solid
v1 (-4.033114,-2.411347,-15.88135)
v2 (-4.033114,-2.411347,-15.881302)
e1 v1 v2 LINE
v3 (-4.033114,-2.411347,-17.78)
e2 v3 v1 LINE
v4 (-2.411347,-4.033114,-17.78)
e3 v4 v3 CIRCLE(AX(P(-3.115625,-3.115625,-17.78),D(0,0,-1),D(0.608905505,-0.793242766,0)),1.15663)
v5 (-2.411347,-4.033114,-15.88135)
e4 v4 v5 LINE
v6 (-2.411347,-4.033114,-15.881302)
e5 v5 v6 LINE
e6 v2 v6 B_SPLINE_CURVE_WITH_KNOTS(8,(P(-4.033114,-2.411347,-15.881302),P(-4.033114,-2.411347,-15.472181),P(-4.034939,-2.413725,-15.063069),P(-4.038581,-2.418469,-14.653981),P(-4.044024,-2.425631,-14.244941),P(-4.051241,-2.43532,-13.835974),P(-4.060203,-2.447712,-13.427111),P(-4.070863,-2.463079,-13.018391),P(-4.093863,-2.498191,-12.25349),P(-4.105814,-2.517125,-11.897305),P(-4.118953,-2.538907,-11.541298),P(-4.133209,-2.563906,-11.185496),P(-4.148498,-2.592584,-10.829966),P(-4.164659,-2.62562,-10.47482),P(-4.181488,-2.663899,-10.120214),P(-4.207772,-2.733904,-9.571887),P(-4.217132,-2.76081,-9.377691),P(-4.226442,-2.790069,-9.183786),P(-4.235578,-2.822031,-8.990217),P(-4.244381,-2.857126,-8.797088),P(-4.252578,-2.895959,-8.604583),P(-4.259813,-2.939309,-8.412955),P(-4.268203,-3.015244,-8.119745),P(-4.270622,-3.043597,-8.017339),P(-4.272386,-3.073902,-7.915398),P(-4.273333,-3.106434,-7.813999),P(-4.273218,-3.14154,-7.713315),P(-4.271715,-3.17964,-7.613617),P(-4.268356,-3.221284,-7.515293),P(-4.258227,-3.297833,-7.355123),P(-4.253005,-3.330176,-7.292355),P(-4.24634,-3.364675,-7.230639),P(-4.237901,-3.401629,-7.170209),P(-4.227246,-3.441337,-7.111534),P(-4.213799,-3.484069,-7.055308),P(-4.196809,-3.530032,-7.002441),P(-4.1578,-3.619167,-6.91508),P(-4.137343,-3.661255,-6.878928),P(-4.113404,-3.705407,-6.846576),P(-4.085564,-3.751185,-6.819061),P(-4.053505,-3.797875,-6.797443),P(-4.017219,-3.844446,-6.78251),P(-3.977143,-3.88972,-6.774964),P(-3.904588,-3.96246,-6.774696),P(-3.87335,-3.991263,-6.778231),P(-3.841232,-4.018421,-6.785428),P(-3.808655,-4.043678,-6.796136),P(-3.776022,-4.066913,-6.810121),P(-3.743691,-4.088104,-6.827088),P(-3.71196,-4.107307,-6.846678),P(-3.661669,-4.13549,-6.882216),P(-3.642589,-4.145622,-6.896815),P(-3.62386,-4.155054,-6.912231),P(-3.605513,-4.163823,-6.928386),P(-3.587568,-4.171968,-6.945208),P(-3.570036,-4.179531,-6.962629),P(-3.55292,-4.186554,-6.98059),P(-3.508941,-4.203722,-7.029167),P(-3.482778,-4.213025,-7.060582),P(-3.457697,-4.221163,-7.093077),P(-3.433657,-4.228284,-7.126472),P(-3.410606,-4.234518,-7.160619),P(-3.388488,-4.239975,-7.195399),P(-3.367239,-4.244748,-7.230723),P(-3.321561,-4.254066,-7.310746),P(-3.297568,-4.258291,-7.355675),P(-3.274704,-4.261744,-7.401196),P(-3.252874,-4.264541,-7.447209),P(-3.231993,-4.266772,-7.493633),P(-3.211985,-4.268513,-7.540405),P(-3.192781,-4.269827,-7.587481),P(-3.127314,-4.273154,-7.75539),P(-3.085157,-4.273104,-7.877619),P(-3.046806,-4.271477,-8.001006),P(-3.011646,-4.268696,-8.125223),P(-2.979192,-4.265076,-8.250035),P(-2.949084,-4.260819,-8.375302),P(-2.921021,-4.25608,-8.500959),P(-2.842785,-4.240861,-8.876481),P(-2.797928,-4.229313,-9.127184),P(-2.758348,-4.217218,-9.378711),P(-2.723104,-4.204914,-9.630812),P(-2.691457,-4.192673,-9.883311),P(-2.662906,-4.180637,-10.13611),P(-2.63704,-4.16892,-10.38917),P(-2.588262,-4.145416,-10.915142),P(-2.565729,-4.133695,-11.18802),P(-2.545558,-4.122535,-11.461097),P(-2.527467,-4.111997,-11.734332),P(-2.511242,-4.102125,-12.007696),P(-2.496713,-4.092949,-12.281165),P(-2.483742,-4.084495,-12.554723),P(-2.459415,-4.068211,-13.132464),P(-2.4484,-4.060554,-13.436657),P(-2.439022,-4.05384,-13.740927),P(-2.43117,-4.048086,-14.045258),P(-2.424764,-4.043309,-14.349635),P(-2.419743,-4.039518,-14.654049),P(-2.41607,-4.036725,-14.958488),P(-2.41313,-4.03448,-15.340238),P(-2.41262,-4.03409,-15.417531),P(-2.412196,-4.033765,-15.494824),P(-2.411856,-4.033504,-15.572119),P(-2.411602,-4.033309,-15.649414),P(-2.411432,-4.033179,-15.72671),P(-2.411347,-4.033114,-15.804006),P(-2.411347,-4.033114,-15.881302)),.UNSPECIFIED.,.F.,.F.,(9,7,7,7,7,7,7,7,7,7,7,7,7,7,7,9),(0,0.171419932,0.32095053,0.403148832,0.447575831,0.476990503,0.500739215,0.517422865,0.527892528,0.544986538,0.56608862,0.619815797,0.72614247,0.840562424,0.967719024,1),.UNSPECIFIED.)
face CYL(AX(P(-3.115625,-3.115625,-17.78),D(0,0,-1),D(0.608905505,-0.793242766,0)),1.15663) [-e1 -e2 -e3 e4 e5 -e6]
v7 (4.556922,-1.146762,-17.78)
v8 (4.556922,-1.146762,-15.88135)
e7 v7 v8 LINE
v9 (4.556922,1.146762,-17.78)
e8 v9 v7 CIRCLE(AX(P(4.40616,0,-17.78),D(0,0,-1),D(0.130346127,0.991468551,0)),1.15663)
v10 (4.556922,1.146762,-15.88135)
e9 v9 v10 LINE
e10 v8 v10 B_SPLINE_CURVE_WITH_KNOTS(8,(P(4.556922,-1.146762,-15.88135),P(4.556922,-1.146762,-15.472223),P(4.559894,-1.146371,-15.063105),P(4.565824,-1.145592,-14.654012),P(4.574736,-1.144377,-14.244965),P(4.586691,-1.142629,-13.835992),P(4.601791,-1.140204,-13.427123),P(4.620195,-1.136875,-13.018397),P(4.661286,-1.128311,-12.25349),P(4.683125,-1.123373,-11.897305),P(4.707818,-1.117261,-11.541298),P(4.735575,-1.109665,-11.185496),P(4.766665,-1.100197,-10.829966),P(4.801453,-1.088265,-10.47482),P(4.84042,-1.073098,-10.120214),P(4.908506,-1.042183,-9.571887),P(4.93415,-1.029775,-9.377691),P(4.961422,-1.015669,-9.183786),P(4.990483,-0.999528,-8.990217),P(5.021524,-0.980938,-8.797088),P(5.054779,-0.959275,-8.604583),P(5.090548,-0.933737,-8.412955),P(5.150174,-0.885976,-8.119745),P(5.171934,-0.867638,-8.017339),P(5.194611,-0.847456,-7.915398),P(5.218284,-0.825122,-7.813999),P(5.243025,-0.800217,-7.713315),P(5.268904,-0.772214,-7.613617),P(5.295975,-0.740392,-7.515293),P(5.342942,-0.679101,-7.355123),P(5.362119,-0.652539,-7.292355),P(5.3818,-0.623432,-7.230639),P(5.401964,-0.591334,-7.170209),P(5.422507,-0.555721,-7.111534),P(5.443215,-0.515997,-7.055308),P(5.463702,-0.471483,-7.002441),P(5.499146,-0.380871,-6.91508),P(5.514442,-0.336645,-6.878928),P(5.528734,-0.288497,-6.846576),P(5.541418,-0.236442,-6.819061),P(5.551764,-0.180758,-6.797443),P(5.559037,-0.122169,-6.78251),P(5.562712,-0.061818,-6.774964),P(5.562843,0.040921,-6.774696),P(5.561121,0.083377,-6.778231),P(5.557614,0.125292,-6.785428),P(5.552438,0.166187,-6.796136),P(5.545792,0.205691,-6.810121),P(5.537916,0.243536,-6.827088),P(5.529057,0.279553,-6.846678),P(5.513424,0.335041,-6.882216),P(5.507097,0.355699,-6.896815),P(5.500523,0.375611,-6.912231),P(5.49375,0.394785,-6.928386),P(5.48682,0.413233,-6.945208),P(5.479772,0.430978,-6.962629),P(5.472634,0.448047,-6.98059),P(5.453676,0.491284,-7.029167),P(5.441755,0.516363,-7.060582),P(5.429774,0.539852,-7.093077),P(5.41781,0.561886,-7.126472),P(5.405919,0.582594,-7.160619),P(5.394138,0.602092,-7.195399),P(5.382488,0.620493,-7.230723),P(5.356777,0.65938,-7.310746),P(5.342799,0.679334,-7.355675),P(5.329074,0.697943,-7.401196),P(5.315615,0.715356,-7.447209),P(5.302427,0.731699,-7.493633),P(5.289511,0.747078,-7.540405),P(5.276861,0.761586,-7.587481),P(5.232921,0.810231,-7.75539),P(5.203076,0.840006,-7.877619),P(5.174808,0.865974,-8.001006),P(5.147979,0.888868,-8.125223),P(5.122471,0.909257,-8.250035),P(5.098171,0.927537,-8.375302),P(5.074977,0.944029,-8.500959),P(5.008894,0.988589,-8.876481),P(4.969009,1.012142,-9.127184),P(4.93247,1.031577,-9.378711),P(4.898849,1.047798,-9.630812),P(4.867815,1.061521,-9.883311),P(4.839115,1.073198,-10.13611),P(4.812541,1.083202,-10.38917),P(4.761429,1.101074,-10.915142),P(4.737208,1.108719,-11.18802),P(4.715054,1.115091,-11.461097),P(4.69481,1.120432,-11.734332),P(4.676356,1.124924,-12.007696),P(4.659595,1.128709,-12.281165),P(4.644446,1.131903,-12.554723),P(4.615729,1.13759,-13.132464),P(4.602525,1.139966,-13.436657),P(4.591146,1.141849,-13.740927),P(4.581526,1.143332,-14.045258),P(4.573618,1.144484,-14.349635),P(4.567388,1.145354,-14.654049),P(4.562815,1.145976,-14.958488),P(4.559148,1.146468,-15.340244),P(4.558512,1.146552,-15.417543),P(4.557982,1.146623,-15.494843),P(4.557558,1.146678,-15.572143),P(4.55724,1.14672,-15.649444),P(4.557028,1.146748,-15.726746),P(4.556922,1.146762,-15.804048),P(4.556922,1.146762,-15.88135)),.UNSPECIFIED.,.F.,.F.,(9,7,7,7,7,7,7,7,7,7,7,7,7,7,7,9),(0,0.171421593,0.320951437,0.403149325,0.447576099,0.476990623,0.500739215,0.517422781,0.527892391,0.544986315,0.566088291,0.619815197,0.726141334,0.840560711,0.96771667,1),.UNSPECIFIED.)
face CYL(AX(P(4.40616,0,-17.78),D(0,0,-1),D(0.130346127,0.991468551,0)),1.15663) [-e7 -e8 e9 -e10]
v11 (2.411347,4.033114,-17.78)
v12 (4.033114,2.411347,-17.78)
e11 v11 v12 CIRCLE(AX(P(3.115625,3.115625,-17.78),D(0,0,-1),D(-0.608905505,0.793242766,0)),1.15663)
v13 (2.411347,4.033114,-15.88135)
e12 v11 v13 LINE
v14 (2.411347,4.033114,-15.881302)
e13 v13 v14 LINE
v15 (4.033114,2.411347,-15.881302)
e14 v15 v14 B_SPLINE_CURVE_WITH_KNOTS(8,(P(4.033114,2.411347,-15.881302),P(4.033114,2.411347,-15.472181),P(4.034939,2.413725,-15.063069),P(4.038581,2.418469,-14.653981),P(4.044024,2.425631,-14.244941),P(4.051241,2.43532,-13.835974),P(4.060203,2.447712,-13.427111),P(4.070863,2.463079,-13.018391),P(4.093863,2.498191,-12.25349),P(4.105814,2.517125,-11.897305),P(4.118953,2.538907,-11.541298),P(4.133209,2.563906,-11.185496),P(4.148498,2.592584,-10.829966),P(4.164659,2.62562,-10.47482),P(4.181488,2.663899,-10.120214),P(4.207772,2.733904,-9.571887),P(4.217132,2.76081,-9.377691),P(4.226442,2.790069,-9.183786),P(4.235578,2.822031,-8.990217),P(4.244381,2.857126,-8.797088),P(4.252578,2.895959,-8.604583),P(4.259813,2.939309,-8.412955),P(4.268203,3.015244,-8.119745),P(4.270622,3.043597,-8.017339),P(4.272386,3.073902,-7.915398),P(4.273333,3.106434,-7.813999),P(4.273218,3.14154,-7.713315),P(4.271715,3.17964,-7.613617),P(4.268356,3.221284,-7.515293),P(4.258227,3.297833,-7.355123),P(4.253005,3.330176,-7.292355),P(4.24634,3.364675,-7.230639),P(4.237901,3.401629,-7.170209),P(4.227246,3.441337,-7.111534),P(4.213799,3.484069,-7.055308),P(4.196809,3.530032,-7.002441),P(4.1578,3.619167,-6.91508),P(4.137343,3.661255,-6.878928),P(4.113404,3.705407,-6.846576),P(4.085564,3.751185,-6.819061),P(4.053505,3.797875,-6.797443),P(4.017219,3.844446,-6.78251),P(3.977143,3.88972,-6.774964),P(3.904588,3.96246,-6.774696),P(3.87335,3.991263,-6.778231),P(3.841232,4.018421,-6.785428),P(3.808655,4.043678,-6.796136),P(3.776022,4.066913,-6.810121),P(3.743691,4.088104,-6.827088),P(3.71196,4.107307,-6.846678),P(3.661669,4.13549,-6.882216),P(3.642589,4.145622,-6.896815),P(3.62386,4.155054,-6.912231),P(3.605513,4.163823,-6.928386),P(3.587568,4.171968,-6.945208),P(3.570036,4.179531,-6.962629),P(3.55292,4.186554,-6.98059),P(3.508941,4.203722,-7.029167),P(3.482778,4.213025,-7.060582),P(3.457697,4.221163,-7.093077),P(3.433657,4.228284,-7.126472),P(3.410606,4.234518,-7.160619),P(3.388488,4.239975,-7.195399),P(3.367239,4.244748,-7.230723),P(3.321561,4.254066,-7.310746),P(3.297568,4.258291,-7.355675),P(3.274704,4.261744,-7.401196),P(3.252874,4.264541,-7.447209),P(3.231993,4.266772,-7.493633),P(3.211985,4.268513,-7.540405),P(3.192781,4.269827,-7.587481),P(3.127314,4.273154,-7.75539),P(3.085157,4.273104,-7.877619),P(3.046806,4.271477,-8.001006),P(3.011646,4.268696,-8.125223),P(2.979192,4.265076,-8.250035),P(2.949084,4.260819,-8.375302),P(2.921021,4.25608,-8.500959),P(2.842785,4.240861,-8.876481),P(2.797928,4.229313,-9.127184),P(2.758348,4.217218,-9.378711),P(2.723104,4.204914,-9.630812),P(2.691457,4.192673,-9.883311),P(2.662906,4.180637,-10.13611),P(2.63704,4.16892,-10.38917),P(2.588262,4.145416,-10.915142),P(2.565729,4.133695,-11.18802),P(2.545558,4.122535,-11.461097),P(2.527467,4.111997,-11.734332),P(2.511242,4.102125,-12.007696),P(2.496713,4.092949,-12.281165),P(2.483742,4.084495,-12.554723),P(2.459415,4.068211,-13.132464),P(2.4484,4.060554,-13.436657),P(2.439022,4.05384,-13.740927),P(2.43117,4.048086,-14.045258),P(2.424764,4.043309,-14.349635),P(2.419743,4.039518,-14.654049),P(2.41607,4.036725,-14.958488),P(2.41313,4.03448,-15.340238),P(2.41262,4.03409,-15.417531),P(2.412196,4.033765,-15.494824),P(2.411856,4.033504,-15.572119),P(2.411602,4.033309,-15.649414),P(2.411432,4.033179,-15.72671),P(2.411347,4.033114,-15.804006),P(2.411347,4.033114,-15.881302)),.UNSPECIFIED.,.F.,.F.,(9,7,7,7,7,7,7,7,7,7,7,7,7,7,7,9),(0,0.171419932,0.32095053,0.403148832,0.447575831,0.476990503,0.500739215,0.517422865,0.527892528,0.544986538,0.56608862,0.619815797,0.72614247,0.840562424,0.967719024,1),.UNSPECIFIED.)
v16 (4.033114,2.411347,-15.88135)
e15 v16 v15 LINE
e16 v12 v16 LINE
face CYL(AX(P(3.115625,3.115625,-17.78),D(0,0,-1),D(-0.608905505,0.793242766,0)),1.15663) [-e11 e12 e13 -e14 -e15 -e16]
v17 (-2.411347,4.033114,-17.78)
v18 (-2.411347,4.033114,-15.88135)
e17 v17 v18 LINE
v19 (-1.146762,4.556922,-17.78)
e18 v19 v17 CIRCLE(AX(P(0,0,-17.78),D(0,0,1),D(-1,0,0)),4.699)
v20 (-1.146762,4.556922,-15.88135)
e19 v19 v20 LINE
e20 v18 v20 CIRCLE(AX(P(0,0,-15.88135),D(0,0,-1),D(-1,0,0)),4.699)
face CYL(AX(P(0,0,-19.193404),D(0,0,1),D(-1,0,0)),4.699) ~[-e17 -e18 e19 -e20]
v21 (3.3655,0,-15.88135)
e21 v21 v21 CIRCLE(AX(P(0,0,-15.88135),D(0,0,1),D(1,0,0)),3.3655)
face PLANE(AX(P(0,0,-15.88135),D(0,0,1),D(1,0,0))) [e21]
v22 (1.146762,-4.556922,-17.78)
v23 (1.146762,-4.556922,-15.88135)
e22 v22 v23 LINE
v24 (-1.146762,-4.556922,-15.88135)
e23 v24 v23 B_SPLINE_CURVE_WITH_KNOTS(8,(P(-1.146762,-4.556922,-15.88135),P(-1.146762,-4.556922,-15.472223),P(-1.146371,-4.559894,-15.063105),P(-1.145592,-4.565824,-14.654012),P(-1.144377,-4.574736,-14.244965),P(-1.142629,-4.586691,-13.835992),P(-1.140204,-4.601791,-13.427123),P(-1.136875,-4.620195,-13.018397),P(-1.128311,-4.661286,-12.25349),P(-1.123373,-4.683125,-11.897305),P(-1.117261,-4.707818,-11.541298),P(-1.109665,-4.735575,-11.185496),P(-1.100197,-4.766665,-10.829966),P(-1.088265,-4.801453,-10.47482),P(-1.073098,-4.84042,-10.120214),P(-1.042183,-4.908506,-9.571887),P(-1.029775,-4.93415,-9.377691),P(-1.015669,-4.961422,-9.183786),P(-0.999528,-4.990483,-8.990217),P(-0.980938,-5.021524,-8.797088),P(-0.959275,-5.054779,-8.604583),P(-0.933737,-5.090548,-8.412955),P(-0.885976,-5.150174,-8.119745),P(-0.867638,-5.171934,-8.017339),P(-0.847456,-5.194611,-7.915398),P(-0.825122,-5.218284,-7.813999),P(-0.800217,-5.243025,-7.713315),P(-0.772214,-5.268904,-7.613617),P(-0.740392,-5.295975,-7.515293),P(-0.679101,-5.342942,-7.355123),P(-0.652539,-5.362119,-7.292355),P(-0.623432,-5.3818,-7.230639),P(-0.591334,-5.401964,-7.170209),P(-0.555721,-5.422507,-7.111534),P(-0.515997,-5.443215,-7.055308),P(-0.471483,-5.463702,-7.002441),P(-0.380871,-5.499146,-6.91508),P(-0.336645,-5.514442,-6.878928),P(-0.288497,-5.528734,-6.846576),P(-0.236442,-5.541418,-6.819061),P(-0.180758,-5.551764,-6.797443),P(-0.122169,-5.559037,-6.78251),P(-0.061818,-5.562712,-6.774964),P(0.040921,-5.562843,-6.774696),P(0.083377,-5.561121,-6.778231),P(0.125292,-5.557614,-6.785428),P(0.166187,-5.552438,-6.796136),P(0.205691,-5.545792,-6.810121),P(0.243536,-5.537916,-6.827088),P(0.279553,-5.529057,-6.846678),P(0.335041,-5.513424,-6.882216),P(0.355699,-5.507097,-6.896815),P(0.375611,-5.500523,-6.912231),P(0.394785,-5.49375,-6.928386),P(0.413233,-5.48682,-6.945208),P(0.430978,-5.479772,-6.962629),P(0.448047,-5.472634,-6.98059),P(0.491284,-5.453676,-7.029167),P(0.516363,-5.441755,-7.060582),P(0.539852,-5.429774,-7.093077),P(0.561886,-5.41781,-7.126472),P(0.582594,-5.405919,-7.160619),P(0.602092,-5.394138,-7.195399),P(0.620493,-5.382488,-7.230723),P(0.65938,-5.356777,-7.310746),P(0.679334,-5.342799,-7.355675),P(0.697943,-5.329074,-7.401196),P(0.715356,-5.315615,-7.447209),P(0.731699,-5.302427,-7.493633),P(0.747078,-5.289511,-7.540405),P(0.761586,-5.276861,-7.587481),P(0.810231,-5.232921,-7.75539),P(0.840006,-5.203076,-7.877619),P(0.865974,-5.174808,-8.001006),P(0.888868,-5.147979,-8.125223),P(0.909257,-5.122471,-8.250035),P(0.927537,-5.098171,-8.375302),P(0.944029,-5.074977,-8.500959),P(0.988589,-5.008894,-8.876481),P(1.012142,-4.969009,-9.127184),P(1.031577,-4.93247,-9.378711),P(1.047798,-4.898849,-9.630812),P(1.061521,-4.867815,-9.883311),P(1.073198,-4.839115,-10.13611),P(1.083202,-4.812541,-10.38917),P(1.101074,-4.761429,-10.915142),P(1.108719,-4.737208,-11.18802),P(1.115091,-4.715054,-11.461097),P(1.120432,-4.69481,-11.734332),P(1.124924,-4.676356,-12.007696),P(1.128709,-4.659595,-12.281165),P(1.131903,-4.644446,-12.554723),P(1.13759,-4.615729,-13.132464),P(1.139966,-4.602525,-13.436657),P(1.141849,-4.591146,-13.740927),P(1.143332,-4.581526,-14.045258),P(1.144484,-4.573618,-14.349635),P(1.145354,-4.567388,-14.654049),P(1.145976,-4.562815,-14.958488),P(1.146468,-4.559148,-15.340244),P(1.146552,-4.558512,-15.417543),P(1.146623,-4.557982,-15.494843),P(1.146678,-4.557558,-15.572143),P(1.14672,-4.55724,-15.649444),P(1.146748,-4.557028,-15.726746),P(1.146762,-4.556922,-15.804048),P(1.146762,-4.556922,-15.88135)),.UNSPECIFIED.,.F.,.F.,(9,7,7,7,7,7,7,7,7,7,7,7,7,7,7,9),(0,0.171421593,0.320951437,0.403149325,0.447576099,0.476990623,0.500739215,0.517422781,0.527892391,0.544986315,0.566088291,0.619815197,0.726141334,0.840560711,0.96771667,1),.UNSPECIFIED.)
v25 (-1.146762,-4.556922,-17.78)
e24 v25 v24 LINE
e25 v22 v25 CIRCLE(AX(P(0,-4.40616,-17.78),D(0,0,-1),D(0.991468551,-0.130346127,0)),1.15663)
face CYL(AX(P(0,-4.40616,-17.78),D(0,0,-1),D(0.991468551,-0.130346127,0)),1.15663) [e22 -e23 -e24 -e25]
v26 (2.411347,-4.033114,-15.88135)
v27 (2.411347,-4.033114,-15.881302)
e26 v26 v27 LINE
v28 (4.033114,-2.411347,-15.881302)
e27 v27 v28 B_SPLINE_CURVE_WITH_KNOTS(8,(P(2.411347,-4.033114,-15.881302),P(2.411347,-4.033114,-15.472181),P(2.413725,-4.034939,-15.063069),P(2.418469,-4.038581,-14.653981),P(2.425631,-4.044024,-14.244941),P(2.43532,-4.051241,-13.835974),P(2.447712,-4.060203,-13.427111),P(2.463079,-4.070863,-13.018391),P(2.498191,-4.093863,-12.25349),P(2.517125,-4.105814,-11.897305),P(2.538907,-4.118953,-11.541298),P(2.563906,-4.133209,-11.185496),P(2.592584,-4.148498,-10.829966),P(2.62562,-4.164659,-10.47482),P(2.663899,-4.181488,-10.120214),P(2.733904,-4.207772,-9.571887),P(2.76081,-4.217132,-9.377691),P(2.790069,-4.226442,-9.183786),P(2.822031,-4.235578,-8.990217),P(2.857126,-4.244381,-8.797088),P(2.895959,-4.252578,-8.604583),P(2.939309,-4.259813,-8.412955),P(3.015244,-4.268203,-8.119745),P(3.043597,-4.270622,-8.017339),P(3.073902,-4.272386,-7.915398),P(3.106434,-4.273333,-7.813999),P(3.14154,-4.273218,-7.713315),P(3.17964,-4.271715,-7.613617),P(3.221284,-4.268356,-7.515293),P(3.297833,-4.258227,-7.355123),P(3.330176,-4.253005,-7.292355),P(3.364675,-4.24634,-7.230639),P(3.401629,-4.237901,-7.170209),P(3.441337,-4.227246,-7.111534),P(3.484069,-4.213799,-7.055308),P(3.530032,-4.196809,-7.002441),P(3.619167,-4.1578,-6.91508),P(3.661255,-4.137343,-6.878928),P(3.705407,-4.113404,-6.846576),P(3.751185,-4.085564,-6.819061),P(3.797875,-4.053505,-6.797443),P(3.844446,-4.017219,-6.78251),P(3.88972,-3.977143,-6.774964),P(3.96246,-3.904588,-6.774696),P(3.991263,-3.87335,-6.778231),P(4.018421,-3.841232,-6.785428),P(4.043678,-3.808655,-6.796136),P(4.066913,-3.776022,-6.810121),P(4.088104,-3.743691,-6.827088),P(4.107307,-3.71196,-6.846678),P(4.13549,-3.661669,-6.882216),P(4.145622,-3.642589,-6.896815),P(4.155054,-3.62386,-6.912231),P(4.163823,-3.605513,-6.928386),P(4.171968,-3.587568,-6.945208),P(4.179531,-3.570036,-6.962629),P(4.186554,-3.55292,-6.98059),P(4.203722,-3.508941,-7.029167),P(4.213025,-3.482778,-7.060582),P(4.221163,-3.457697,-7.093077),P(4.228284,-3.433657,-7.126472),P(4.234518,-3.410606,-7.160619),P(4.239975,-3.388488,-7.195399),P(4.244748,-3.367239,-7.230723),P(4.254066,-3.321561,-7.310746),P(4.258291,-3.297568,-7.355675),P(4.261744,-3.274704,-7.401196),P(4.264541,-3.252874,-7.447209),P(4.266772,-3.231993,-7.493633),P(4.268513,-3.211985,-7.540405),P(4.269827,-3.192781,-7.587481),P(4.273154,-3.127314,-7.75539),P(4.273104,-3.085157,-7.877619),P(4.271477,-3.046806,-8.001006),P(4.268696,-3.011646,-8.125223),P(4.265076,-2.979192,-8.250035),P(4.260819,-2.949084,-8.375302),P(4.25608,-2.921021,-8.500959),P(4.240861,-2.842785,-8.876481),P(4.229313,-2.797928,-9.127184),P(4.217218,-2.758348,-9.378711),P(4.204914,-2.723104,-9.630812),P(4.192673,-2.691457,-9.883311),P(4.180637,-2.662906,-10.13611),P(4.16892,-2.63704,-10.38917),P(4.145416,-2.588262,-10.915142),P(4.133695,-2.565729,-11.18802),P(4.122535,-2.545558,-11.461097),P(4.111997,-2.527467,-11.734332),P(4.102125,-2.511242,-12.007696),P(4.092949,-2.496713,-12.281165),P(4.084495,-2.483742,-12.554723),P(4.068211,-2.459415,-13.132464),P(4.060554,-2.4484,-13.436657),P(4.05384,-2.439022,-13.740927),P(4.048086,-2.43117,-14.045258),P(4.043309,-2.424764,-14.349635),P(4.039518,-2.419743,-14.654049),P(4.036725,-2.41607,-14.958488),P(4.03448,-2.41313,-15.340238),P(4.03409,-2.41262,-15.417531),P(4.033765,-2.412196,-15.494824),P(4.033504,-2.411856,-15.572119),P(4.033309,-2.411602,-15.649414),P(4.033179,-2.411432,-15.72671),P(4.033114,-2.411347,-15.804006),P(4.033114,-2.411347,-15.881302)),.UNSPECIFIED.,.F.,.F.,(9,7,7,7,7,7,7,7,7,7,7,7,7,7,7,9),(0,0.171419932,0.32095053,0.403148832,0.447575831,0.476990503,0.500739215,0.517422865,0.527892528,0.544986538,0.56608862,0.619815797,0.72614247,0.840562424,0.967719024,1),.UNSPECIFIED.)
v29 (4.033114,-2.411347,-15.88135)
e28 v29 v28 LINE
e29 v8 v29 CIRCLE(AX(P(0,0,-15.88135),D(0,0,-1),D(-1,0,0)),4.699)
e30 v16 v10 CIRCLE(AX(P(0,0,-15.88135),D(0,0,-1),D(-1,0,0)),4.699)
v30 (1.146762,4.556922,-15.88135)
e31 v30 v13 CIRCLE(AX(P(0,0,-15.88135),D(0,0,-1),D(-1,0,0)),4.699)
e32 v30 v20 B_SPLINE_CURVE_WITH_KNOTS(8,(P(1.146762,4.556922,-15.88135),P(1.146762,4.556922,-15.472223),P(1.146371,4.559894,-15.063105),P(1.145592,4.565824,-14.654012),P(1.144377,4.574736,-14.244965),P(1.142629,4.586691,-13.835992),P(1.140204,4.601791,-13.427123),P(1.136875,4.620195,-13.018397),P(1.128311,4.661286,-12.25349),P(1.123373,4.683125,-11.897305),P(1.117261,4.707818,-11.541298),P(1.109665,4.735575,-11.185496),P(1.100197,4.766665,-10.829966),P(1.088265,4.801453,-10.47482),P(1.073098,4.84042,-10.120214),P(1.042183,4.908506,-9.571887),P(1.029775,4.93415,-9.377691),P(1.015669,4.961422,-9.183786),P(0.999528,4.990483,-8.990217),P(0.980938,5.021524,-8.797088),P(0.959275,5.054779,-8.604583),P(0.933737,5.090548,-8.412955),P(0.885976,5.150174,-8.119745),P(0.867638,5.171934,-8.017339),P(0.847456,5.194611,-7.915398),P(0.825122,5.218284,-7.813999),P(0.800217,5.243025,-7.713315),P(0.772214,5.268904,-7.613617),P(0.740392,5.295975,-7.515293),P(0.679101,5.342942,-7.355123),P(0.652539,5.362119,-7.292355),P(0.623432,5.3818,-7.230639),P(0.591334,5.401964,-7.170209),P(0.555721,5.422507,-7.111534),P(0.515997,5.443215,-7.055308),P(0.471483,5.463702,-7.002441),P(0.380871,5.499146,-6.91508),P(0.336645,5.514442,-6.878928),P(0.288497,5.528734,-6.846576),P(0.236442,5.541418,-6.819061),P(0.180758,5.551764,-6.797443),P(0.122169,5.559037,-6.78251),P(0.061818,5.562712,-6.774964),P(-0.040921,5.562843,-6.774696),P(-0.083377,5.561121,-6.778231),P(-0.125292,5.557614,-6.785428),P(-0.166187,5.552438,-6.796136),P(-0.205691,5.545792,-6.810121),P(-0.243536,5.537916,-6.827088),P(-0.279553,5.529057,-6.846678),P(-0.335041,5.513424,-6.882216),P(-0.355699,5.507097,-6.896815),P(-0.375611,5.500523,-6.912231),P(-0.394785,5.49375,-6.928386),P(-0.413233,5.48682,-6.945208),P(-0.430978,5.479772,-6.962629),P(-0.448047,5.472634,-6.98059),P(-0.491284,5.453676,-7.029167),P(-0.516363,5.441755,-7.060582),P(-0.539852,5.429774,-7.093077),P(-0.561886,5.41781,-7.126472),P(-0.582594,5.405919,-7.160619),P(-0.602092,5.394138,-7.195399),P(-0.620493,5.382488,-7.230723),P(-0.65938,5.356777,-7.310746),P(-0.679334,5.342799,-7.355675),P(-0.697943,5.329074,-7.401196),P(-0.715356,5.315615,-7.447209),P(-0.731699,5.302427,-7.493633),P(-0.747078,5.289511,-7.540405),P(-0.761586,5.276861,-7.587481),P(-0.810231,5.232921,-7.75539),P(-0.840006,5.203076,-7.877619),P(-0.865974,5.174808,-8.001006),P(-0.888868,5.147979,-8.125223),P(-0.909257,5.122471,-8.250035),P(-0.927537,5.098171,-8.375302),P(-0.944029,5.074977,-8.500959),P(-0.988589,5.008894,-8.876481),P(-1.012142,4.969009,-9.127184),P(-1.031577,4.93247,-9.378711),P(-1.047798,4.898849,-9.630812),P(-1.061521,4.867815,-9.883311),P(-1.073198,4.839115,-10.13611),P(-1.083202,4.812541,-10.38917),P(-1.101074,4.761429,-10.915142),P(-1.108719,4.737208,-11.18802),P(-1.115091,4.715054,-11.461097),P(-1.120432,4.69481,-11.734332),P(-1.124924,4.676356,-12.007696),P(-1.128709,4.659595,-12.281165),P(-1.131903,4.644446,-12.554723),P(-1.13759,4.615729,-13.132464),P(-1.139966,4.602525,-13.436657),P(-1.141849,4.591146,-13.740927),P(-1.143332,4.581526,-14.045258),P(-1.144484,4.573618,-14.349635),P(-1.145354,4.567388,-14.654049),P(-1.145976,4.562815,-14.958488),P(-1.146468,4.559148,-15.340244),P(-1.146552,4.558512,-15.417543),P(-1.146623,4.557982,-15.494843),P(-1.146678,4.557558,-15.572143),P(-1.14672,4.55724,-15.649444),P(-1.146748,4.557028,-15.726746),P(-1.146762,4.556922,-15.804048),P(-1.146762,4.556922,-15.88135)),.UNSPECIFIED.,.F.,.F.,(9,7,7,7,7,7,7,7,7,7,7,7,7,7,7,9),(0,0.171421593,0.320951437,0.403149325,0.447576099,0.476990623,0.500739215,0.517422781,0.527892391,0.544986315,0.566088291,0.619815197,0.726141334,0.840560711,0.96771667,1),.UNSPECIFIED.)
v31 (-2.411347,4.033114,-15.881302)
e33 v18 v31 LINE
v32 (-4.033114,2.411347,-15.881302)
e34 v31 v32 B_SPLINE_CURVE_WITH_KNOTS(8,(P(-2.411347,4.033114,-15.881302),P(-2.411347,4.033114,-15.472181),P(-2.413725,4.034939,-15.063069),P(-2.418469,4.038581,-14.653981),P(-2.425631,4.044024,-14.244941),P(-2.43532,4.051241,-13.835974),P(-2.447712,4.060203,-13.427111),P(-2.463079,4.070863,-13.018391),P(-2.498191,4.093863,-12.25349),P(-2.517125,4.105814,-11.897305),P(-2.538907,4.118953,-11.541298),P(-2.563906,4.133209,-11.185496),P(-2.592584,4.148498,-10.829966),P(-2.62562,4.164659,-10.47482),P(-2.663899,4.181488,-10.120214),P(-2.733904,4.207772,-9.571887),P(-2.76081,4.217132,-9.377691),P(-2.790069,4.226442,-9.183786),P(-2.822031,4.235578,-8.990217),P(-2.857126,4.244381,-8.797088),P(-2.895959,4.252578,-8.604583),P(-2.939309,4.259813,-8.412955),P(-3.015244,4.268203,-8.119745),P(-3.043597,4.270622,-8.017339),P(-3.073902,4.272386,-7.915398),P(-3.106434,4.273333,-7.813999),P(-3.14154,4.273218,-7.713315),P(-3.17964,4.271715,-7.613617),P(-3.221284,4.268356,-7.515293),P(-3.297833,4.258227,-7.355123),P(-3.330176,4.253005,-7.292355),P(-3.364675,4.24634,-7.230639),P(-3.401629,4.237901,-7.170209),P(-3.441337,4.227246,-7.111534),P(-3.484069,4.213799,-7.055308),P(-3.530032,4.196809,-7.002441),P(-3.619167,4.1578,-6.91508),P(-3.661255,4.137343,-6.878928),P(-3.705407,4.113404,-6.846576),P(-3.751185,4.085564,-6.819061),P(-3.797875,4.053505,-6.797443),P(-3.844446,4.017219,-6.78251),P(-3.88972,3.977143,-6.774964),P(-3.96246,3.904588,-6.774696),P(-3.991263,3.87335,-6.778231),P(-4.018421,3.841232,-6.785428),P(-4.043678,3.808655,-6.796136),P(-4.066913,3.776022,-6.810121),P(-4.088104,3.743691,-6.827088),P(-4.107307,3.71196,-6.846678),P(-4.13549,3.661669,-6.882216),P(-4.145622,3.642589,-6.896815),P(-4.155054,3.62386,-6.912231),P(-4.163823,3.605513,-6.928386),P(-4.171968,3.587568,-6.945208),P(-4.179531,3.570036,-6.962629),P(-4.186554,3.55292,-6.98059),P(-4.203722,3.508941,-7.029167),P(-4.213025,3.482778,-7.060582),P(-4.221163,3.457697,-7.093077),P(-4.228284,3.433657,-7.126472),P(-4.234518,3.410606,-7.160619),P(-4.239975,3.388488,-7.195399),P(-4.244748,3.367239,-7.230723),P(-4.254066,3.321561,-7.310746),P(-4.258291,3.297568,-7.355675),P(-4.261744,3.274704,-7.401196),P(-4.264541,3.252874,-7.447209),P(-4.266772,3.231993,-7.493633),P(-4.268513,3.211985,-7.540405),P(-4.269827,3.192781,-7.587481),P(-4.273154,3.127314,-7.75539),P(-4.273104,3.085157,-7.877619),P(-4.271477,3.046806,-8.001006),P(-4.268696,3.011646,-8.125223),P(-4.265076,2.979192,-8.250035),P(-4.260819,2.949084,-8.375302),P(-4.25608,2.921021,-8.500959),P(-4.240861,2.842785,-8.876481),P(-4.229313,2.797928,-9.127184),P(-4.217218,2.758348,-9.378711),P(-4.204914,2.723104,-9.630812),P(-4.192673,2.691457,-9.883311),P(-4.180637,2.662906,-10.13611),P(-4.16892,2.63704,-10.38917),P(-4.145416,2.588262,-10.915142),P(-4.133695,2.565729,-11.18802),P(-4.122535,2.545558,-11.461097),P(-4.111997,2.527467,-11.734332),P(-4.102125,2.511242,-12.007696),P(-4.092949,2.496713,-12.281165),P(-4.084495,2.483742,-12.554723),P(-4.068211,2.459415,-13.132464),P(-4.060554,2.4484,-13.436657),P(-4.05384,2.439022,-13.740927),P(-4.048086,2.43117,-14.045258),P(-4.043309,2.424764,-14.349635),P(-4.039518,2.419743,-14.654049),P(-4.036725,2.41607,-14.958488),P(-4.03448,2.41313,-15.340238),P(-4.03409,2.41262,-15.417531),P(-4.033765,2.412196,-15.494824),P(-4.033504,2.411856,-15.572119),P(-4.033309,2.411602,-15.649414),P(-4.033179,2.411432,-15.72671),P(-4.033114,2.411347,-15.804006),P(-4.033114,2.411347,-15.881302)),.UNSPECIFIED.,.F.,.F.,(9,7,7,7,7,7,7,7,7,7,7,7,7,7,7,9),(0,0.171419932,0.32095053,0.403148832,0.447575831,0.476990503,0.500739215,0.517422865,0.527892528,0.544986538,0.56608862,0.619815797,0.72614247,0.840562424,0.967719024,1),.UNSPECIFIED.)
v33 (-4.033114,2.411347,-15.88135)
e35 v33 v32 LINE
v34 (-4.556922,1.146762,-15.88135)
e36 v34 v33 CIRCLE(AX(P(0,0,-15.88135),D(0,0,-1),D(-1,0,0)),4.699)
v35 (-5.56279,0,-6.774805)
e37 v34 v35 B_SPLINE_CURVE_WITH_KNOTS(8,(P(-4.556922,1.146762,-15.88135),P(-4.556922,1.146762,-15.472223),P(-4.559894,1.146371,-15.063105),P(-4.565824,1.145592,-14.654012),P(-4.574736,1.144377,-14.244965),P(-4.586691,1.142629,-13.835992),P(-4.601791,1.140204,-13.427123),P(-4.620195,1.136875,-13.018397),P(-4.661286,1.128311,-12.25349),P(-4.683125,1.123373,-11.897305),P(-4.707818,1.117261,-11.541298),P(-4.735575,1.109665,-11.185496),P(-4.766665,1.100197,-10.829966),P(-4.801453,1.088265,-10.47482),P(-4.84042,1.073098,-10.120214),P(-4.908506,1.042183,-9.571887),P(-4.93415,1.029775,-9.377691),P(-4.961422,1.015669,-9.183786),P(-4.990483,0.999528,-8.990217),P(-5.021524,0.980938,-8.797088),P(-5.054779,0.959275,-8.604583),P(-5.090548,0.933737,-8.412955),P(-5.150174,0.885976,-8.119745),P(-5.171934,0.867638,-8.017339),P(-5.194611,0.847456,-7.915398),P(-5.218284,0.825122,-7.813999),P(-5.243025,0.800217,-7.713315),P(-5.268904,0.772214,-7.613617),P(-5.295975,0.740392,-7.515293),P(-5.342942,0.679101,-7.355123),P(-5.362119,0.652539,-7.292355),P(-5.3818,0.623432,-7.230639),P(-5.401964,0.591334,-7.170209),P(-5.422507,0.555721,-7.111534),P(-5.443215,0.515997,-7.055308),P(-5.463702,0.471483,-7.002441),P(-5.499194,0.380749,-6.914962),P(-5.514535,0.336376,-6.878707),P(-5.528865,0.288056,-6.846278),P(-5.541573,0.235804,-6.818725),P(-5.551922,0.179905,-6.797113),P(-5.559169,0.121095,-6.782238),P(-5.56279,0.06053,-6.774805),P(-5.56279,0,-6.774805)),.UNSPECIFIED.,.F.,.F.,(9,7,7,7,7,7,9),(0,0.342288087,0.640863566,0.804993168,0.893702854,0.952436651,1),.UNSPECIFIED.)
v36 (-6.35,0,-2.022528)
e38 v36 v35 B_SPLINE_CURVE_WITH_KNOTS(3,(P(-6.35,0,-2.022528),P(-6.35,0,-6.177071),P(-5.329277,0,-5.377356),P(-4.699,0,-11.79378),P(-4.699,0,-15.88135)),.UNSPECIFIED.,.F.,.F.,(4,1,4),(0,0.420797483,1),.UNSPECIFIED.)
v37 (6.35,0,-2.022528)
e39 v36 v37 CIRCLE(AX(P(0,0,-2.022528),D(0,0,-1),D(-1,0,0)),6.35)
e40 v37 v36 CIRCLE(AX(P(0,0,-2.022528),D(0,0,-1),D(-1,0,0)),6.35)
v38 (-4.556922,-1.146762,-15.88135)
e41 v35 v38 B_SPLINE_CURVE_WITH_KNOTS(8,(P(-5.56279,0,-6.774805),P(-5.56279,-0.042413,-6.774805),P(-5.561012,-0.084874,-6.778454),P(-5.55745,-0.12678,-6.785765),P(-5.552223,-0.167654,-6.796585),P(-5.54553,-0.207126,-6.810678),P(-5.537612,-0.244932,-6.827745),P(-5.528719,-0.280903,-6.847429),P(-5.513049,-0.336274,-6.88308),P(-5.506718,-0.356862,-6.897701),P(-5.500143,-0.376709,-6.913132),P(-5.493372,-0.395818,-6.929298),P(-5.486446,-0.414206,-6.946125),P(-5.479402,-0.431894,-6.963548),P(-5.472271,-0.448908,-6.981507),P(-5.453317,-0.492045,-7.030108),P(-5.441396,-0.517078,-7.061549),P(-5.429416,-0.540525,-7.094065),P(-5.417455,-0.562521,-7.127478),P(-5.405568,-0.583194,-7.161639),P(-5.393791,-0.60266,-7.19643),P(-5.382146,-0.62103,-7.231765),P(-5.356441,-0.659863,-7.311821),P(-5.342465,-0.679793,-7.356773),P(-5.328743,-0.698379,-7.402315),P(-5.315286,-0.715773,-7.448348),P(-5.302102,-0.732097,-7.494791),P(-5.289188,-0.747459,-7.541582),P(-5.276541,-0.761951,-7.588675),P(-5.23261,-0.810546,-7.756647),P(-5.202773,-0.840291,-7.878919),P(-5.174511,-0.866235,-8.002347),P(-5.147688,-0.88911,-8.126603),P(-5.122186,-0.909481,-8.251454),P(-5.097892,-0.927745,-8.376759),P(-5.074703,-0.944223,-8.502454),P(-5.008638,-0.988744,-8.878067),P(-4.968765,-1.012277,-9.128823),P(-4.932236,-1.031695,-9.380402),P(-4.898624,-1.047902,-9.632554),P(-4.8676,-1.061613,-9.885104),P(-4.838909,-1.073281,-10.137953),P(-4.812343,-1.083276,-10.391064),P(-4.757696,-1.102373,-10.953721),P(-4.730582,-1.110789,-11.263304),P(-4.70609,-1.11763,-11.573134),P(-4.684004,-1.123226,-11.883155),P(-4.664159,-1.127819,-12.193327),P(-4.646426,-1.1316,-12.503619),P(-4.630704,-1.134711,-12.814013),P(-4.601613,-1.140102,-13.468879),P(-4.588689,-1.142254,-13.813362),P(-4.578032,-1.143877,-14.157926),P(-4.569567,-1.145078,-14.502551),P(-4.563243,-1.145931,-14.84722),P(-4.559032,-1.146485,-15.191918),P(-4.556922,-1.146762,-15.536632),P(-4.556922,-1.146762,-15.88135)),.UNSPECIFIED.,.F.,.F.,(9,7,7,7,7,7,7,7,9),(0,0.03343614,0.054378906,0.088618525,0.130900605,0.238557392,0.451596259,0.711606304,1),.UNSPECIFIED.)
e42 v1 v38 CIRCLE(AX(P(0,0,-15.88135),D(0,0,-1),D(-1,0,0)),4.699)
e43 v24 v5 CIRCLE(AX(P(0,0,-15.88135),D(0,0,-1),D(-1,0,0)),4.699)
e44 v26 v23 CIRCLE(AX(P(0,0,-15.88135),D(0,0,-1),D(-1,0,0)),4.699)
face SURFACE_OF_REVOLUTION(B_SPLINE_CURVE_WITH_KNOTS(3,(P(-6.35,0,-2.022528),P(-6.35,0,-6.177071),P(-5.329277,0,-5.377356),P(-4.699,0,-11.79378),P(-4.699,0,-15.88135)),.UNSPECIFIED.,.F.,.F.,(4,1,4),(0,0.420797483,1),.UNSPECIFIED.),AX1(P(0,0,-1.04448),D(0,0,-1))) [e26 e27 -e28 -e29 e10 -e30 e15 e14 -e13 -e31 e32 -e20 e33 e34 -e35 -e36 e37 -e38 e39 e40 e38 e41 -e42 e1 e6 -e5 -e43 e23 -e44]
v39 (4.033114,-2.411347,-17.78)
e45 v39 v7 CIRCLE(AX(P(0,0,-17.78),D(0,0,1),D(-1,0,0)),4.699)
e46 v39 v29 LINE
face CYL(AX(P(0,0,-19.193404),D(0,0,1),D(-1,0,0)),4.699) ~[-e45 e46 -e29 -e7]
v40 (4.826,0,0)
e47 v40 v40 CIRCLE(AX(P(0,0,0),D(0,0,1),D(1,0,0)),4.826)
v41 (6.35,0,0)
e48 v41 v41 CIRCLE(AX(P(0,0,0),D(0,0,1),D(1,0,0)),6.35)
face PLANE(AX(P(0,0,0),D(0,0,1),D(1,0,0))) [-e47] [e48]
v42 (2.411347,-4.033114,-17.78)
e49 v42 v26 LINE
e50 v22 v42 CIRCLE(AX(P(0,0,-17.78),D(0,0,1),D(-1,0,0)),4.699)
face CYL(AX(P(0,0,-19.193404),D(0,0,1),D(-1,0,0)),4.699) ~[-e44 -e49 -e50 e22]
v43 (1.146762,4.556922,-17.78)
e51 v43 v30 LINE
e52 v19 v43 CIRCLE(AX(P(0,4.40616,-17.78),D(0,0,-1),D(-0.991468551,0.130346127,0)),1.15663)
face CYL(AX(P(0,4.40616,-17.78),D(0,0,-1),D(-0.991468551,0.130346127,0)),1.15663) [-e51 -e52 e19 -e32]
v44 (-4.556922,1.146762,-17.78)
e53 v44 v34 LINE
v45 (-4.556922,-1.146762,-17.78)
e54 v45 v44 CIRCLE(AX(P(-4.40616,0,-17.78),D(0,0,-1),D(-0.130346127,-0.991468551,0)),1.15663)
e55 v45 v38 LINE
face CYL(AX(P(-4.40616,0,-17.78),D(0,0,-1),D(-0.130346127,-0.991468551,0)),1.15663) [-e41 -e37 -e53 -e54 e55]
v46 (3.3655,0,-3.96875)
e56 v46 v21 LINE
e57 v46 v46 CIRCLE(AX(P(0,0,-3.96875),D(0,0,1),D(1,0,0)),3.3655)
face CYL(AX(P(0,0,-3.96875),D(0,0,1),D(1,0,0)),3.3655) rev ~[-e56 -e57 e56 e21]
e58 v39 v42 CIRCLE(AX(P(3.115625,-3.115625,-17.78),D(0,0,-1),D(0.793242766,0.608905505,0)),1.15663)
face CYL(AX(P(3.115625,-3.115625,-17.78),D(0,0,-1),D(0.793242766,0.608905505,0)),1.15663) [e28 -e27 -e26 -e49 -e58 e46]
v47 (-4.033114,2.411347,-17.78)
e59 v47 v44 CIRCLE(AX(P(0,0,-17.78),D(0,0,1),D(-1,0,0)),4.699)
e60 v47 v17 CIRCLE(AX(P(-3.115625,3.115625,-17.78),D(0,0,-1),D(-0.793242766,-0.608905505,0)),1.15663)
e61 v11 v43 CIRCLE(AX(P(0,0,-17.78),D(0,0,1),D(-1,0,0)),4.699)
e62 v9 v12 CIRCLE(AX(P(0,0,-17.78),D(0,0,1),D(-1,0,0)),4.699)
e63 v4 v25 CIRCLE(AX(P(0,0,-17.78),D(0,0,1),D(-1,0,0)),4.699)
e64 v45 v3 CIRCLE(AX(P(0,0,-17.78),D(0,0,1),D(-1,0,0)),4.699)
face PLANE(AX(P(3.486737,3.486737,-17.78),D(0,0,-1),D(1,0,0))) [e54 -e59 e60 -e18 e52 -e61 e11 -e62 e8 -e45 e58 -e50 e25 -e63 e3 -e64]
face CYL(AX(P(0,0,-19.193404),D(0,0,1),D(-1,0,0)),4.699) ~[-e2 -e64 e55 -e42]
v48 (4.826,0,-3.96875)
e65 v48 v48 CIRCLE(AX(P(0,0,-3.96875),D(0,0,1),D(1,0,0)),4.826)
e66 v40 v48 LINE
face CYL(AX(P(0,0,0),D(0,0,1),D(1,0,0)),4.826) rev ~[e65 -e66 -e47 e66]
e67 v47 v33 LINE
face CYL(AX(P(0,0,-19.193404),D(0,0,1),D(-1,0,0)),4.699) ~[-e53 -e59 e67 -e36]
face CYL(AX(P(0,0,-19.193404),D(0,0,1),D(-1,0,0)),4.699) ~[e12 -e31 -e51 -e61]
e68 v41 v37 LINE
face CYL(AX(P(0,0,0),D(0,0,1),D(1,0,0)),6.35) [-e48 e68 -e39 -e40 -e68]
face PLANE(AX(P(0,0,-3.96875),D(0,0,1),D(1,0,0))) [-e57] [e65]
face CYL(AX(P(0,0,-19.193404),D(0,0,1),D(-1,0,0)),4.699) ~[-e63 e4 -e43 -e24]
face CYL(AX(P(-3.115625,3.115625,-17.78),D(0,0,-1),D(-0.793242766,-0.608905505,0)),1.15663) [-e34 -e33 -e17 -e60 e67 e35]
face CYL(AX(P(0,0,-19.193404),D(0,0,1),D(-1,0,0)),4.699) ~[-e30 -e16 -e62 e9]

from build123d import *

# Parameters (mm, degrees)
F0_R     = 6.35
F0_R_2   = 4.826
F1_DEPTH = 17.78
F2_DEPTH = 3.96875
F3_R     = 3.3655
F4_DEPTH = 11.9126
F8_DEPTH = 11.0998


with BuildPart() as f1:
    # F0 (on Top) → F1 (new body)
    with BuildSketch(Plane.XY):
        Circle(F0_R)
        Circle(F0_R_2, mode=Mode.SUBTRACT)
        Circle(F0_R_2)
    extrude(amount=-F1_DEPTH)

    # F0 (on Top) → F2 (cut)
    with BuildSketch(Plane.XY):
        Circle(F0_R_2)
    extrude(amount=-F2_DEPTH, mode=Mode.SUBTRACT)

    # F3 (on face) → F4 (cut)
    with BuildSketch(Plane.XY.offset(-3.96875)):
        Circle(F3_R)
    extrude(amount=-F4_DEPTH, mode=Mode.SUBTRACT)

    # F5 (on Front) → F6 (revolve, cut)
    with BuildSketch(Plane.XZ):
        with BuildLine():
            Line((-6.35, -4.0450559158), (-6.35, -17.78))
            Line((-6.35, -17.78), (-4.699, -17.78))
            Line((-4.699, -17.78), (-4.699, -15.88135))
            add(Edge.make_bspline(
                [(-6.35, -2.0225279579), (-6.35, -6.1770705744), (-5.3292767375, -5.3773556727), (-4.699, -11.7937795575), (-4.699, -15.88135)],
                knots=[0, 0, 0, 0, 0.4207974833, 1, 1, 1, 1], degree=3))
            Line((-6.35, -2.0225279579), (-6.35, -4.0450559158))
        make_face()
        Polygon((-4.699, -17.78), (-6.35, -17.78), (-6.35, -4.0450559158), (-6.35, -2.0225279579), (-8.8478010148, -2.0225279579), (-8.8478010148, -19.1934037815), (-4.699, -19.1934037815), align=None)
    revolve(axis=Axis((0, 0, -1.0444802465), (0, 0, -1)), mode=Mode.SUBTRACT)

    # F7 (on face) → F8 (join)
    with BuildSketch(Plane(origin=(0, 0, -17.78), x_dir=(1, 0, 0), z_dir=(0, 0, -1))):
        with BuildLine():
            ThreePointArc((2.4113470969, -4.0331137076), (3.9334862522, -3.9334862522), (4.0331137076, -2.4113470969))
            ThreePointArc((4.0331137076, -2.4113470969), (3.3226947648, -3.3226947648), (2.4113470969, -4.0331137076))
        make_face()
        with BuildLine():
            ThreePointArc((-1.1467621679, -4.5569219359), (0, -5.5627896053), (1.1467621679, -4.5569219359))
            ThreePointArc((1.1467621679, -4.5569219359), (0, -4.699), (-1.1467621679, -4.5569219359))
        make_face()
        with BuildLine():
            ThreePointArc((-4.0331137076, -2.4113470969), (-3.9334862522, -3.9334862522), (-2.4113470969, -4.0331137076))
            ThreePointArc((-2.4113470969, -4.0331137076), (-3.3226947648, -3.3226947648), (-4.0331137076, -2.4113470969))
        make_face()
        with BuildLine():
            ThreePointArc((-4.5569219359, -1.1467621679), (-4.699, 0), (-4.5569219359, 1.1467621679))
            ThreePointArc((-4.5569219359, 1.1467621679), (-5.5627896053, 0), (-4.5569219359, -1.1467621679))
        make_face()
        with BuildLine():
            ThreePointArc((-4.0331137076, 2.4113470969), (-3.3226947648, 3.3226947648), (-2.4113470969, 4.0331137076))
            ThreePointArc((-2.4113470969, 4.0331137076), (-3.9334862522, 3.9334862522), (-4.0331137076, 2.4113470969))
        make_face()
        with BuildLine():
            ThreePointArc((-1.1467621679, 4.5569219359), (0, 4.699), (1.1467621679, 4.5569219359))
            ThreePointArc((1.1467621679, 4.5569219359), (0, 5.5627896053), (-1.1467621679, 4.5569219359))
        make_face()
        with BuildLine():
            ThreePointArc((2.4113470969, 4.0331137076), (3.3226947648, 3.3226947648), (4.0331137076, 2.4113470969))
            ThreePointArc((4.0331137076, 2.4113470969), (3.9334862522, 3.9334862522), (2.4113470969, 4.0331137076))
        make_face()
        with BuildLine():
            ThreePointArc((4.5569219359, 1.1467621679), (4.6633452144, 0.5777650141), (4.699, 0))
            ThreePointArc((4.699, 0), (4.6633452144, -0.5777650141), (4.5569219359, -1.1467621679))
            ThreePointArc((4.5569219359, -1.1467621679), (5.5627896053, 0), (4.5569219359, 1.1467621679))
        make_face()
    extrude(amount=-F8_DEPTH)


solid = f1.part
